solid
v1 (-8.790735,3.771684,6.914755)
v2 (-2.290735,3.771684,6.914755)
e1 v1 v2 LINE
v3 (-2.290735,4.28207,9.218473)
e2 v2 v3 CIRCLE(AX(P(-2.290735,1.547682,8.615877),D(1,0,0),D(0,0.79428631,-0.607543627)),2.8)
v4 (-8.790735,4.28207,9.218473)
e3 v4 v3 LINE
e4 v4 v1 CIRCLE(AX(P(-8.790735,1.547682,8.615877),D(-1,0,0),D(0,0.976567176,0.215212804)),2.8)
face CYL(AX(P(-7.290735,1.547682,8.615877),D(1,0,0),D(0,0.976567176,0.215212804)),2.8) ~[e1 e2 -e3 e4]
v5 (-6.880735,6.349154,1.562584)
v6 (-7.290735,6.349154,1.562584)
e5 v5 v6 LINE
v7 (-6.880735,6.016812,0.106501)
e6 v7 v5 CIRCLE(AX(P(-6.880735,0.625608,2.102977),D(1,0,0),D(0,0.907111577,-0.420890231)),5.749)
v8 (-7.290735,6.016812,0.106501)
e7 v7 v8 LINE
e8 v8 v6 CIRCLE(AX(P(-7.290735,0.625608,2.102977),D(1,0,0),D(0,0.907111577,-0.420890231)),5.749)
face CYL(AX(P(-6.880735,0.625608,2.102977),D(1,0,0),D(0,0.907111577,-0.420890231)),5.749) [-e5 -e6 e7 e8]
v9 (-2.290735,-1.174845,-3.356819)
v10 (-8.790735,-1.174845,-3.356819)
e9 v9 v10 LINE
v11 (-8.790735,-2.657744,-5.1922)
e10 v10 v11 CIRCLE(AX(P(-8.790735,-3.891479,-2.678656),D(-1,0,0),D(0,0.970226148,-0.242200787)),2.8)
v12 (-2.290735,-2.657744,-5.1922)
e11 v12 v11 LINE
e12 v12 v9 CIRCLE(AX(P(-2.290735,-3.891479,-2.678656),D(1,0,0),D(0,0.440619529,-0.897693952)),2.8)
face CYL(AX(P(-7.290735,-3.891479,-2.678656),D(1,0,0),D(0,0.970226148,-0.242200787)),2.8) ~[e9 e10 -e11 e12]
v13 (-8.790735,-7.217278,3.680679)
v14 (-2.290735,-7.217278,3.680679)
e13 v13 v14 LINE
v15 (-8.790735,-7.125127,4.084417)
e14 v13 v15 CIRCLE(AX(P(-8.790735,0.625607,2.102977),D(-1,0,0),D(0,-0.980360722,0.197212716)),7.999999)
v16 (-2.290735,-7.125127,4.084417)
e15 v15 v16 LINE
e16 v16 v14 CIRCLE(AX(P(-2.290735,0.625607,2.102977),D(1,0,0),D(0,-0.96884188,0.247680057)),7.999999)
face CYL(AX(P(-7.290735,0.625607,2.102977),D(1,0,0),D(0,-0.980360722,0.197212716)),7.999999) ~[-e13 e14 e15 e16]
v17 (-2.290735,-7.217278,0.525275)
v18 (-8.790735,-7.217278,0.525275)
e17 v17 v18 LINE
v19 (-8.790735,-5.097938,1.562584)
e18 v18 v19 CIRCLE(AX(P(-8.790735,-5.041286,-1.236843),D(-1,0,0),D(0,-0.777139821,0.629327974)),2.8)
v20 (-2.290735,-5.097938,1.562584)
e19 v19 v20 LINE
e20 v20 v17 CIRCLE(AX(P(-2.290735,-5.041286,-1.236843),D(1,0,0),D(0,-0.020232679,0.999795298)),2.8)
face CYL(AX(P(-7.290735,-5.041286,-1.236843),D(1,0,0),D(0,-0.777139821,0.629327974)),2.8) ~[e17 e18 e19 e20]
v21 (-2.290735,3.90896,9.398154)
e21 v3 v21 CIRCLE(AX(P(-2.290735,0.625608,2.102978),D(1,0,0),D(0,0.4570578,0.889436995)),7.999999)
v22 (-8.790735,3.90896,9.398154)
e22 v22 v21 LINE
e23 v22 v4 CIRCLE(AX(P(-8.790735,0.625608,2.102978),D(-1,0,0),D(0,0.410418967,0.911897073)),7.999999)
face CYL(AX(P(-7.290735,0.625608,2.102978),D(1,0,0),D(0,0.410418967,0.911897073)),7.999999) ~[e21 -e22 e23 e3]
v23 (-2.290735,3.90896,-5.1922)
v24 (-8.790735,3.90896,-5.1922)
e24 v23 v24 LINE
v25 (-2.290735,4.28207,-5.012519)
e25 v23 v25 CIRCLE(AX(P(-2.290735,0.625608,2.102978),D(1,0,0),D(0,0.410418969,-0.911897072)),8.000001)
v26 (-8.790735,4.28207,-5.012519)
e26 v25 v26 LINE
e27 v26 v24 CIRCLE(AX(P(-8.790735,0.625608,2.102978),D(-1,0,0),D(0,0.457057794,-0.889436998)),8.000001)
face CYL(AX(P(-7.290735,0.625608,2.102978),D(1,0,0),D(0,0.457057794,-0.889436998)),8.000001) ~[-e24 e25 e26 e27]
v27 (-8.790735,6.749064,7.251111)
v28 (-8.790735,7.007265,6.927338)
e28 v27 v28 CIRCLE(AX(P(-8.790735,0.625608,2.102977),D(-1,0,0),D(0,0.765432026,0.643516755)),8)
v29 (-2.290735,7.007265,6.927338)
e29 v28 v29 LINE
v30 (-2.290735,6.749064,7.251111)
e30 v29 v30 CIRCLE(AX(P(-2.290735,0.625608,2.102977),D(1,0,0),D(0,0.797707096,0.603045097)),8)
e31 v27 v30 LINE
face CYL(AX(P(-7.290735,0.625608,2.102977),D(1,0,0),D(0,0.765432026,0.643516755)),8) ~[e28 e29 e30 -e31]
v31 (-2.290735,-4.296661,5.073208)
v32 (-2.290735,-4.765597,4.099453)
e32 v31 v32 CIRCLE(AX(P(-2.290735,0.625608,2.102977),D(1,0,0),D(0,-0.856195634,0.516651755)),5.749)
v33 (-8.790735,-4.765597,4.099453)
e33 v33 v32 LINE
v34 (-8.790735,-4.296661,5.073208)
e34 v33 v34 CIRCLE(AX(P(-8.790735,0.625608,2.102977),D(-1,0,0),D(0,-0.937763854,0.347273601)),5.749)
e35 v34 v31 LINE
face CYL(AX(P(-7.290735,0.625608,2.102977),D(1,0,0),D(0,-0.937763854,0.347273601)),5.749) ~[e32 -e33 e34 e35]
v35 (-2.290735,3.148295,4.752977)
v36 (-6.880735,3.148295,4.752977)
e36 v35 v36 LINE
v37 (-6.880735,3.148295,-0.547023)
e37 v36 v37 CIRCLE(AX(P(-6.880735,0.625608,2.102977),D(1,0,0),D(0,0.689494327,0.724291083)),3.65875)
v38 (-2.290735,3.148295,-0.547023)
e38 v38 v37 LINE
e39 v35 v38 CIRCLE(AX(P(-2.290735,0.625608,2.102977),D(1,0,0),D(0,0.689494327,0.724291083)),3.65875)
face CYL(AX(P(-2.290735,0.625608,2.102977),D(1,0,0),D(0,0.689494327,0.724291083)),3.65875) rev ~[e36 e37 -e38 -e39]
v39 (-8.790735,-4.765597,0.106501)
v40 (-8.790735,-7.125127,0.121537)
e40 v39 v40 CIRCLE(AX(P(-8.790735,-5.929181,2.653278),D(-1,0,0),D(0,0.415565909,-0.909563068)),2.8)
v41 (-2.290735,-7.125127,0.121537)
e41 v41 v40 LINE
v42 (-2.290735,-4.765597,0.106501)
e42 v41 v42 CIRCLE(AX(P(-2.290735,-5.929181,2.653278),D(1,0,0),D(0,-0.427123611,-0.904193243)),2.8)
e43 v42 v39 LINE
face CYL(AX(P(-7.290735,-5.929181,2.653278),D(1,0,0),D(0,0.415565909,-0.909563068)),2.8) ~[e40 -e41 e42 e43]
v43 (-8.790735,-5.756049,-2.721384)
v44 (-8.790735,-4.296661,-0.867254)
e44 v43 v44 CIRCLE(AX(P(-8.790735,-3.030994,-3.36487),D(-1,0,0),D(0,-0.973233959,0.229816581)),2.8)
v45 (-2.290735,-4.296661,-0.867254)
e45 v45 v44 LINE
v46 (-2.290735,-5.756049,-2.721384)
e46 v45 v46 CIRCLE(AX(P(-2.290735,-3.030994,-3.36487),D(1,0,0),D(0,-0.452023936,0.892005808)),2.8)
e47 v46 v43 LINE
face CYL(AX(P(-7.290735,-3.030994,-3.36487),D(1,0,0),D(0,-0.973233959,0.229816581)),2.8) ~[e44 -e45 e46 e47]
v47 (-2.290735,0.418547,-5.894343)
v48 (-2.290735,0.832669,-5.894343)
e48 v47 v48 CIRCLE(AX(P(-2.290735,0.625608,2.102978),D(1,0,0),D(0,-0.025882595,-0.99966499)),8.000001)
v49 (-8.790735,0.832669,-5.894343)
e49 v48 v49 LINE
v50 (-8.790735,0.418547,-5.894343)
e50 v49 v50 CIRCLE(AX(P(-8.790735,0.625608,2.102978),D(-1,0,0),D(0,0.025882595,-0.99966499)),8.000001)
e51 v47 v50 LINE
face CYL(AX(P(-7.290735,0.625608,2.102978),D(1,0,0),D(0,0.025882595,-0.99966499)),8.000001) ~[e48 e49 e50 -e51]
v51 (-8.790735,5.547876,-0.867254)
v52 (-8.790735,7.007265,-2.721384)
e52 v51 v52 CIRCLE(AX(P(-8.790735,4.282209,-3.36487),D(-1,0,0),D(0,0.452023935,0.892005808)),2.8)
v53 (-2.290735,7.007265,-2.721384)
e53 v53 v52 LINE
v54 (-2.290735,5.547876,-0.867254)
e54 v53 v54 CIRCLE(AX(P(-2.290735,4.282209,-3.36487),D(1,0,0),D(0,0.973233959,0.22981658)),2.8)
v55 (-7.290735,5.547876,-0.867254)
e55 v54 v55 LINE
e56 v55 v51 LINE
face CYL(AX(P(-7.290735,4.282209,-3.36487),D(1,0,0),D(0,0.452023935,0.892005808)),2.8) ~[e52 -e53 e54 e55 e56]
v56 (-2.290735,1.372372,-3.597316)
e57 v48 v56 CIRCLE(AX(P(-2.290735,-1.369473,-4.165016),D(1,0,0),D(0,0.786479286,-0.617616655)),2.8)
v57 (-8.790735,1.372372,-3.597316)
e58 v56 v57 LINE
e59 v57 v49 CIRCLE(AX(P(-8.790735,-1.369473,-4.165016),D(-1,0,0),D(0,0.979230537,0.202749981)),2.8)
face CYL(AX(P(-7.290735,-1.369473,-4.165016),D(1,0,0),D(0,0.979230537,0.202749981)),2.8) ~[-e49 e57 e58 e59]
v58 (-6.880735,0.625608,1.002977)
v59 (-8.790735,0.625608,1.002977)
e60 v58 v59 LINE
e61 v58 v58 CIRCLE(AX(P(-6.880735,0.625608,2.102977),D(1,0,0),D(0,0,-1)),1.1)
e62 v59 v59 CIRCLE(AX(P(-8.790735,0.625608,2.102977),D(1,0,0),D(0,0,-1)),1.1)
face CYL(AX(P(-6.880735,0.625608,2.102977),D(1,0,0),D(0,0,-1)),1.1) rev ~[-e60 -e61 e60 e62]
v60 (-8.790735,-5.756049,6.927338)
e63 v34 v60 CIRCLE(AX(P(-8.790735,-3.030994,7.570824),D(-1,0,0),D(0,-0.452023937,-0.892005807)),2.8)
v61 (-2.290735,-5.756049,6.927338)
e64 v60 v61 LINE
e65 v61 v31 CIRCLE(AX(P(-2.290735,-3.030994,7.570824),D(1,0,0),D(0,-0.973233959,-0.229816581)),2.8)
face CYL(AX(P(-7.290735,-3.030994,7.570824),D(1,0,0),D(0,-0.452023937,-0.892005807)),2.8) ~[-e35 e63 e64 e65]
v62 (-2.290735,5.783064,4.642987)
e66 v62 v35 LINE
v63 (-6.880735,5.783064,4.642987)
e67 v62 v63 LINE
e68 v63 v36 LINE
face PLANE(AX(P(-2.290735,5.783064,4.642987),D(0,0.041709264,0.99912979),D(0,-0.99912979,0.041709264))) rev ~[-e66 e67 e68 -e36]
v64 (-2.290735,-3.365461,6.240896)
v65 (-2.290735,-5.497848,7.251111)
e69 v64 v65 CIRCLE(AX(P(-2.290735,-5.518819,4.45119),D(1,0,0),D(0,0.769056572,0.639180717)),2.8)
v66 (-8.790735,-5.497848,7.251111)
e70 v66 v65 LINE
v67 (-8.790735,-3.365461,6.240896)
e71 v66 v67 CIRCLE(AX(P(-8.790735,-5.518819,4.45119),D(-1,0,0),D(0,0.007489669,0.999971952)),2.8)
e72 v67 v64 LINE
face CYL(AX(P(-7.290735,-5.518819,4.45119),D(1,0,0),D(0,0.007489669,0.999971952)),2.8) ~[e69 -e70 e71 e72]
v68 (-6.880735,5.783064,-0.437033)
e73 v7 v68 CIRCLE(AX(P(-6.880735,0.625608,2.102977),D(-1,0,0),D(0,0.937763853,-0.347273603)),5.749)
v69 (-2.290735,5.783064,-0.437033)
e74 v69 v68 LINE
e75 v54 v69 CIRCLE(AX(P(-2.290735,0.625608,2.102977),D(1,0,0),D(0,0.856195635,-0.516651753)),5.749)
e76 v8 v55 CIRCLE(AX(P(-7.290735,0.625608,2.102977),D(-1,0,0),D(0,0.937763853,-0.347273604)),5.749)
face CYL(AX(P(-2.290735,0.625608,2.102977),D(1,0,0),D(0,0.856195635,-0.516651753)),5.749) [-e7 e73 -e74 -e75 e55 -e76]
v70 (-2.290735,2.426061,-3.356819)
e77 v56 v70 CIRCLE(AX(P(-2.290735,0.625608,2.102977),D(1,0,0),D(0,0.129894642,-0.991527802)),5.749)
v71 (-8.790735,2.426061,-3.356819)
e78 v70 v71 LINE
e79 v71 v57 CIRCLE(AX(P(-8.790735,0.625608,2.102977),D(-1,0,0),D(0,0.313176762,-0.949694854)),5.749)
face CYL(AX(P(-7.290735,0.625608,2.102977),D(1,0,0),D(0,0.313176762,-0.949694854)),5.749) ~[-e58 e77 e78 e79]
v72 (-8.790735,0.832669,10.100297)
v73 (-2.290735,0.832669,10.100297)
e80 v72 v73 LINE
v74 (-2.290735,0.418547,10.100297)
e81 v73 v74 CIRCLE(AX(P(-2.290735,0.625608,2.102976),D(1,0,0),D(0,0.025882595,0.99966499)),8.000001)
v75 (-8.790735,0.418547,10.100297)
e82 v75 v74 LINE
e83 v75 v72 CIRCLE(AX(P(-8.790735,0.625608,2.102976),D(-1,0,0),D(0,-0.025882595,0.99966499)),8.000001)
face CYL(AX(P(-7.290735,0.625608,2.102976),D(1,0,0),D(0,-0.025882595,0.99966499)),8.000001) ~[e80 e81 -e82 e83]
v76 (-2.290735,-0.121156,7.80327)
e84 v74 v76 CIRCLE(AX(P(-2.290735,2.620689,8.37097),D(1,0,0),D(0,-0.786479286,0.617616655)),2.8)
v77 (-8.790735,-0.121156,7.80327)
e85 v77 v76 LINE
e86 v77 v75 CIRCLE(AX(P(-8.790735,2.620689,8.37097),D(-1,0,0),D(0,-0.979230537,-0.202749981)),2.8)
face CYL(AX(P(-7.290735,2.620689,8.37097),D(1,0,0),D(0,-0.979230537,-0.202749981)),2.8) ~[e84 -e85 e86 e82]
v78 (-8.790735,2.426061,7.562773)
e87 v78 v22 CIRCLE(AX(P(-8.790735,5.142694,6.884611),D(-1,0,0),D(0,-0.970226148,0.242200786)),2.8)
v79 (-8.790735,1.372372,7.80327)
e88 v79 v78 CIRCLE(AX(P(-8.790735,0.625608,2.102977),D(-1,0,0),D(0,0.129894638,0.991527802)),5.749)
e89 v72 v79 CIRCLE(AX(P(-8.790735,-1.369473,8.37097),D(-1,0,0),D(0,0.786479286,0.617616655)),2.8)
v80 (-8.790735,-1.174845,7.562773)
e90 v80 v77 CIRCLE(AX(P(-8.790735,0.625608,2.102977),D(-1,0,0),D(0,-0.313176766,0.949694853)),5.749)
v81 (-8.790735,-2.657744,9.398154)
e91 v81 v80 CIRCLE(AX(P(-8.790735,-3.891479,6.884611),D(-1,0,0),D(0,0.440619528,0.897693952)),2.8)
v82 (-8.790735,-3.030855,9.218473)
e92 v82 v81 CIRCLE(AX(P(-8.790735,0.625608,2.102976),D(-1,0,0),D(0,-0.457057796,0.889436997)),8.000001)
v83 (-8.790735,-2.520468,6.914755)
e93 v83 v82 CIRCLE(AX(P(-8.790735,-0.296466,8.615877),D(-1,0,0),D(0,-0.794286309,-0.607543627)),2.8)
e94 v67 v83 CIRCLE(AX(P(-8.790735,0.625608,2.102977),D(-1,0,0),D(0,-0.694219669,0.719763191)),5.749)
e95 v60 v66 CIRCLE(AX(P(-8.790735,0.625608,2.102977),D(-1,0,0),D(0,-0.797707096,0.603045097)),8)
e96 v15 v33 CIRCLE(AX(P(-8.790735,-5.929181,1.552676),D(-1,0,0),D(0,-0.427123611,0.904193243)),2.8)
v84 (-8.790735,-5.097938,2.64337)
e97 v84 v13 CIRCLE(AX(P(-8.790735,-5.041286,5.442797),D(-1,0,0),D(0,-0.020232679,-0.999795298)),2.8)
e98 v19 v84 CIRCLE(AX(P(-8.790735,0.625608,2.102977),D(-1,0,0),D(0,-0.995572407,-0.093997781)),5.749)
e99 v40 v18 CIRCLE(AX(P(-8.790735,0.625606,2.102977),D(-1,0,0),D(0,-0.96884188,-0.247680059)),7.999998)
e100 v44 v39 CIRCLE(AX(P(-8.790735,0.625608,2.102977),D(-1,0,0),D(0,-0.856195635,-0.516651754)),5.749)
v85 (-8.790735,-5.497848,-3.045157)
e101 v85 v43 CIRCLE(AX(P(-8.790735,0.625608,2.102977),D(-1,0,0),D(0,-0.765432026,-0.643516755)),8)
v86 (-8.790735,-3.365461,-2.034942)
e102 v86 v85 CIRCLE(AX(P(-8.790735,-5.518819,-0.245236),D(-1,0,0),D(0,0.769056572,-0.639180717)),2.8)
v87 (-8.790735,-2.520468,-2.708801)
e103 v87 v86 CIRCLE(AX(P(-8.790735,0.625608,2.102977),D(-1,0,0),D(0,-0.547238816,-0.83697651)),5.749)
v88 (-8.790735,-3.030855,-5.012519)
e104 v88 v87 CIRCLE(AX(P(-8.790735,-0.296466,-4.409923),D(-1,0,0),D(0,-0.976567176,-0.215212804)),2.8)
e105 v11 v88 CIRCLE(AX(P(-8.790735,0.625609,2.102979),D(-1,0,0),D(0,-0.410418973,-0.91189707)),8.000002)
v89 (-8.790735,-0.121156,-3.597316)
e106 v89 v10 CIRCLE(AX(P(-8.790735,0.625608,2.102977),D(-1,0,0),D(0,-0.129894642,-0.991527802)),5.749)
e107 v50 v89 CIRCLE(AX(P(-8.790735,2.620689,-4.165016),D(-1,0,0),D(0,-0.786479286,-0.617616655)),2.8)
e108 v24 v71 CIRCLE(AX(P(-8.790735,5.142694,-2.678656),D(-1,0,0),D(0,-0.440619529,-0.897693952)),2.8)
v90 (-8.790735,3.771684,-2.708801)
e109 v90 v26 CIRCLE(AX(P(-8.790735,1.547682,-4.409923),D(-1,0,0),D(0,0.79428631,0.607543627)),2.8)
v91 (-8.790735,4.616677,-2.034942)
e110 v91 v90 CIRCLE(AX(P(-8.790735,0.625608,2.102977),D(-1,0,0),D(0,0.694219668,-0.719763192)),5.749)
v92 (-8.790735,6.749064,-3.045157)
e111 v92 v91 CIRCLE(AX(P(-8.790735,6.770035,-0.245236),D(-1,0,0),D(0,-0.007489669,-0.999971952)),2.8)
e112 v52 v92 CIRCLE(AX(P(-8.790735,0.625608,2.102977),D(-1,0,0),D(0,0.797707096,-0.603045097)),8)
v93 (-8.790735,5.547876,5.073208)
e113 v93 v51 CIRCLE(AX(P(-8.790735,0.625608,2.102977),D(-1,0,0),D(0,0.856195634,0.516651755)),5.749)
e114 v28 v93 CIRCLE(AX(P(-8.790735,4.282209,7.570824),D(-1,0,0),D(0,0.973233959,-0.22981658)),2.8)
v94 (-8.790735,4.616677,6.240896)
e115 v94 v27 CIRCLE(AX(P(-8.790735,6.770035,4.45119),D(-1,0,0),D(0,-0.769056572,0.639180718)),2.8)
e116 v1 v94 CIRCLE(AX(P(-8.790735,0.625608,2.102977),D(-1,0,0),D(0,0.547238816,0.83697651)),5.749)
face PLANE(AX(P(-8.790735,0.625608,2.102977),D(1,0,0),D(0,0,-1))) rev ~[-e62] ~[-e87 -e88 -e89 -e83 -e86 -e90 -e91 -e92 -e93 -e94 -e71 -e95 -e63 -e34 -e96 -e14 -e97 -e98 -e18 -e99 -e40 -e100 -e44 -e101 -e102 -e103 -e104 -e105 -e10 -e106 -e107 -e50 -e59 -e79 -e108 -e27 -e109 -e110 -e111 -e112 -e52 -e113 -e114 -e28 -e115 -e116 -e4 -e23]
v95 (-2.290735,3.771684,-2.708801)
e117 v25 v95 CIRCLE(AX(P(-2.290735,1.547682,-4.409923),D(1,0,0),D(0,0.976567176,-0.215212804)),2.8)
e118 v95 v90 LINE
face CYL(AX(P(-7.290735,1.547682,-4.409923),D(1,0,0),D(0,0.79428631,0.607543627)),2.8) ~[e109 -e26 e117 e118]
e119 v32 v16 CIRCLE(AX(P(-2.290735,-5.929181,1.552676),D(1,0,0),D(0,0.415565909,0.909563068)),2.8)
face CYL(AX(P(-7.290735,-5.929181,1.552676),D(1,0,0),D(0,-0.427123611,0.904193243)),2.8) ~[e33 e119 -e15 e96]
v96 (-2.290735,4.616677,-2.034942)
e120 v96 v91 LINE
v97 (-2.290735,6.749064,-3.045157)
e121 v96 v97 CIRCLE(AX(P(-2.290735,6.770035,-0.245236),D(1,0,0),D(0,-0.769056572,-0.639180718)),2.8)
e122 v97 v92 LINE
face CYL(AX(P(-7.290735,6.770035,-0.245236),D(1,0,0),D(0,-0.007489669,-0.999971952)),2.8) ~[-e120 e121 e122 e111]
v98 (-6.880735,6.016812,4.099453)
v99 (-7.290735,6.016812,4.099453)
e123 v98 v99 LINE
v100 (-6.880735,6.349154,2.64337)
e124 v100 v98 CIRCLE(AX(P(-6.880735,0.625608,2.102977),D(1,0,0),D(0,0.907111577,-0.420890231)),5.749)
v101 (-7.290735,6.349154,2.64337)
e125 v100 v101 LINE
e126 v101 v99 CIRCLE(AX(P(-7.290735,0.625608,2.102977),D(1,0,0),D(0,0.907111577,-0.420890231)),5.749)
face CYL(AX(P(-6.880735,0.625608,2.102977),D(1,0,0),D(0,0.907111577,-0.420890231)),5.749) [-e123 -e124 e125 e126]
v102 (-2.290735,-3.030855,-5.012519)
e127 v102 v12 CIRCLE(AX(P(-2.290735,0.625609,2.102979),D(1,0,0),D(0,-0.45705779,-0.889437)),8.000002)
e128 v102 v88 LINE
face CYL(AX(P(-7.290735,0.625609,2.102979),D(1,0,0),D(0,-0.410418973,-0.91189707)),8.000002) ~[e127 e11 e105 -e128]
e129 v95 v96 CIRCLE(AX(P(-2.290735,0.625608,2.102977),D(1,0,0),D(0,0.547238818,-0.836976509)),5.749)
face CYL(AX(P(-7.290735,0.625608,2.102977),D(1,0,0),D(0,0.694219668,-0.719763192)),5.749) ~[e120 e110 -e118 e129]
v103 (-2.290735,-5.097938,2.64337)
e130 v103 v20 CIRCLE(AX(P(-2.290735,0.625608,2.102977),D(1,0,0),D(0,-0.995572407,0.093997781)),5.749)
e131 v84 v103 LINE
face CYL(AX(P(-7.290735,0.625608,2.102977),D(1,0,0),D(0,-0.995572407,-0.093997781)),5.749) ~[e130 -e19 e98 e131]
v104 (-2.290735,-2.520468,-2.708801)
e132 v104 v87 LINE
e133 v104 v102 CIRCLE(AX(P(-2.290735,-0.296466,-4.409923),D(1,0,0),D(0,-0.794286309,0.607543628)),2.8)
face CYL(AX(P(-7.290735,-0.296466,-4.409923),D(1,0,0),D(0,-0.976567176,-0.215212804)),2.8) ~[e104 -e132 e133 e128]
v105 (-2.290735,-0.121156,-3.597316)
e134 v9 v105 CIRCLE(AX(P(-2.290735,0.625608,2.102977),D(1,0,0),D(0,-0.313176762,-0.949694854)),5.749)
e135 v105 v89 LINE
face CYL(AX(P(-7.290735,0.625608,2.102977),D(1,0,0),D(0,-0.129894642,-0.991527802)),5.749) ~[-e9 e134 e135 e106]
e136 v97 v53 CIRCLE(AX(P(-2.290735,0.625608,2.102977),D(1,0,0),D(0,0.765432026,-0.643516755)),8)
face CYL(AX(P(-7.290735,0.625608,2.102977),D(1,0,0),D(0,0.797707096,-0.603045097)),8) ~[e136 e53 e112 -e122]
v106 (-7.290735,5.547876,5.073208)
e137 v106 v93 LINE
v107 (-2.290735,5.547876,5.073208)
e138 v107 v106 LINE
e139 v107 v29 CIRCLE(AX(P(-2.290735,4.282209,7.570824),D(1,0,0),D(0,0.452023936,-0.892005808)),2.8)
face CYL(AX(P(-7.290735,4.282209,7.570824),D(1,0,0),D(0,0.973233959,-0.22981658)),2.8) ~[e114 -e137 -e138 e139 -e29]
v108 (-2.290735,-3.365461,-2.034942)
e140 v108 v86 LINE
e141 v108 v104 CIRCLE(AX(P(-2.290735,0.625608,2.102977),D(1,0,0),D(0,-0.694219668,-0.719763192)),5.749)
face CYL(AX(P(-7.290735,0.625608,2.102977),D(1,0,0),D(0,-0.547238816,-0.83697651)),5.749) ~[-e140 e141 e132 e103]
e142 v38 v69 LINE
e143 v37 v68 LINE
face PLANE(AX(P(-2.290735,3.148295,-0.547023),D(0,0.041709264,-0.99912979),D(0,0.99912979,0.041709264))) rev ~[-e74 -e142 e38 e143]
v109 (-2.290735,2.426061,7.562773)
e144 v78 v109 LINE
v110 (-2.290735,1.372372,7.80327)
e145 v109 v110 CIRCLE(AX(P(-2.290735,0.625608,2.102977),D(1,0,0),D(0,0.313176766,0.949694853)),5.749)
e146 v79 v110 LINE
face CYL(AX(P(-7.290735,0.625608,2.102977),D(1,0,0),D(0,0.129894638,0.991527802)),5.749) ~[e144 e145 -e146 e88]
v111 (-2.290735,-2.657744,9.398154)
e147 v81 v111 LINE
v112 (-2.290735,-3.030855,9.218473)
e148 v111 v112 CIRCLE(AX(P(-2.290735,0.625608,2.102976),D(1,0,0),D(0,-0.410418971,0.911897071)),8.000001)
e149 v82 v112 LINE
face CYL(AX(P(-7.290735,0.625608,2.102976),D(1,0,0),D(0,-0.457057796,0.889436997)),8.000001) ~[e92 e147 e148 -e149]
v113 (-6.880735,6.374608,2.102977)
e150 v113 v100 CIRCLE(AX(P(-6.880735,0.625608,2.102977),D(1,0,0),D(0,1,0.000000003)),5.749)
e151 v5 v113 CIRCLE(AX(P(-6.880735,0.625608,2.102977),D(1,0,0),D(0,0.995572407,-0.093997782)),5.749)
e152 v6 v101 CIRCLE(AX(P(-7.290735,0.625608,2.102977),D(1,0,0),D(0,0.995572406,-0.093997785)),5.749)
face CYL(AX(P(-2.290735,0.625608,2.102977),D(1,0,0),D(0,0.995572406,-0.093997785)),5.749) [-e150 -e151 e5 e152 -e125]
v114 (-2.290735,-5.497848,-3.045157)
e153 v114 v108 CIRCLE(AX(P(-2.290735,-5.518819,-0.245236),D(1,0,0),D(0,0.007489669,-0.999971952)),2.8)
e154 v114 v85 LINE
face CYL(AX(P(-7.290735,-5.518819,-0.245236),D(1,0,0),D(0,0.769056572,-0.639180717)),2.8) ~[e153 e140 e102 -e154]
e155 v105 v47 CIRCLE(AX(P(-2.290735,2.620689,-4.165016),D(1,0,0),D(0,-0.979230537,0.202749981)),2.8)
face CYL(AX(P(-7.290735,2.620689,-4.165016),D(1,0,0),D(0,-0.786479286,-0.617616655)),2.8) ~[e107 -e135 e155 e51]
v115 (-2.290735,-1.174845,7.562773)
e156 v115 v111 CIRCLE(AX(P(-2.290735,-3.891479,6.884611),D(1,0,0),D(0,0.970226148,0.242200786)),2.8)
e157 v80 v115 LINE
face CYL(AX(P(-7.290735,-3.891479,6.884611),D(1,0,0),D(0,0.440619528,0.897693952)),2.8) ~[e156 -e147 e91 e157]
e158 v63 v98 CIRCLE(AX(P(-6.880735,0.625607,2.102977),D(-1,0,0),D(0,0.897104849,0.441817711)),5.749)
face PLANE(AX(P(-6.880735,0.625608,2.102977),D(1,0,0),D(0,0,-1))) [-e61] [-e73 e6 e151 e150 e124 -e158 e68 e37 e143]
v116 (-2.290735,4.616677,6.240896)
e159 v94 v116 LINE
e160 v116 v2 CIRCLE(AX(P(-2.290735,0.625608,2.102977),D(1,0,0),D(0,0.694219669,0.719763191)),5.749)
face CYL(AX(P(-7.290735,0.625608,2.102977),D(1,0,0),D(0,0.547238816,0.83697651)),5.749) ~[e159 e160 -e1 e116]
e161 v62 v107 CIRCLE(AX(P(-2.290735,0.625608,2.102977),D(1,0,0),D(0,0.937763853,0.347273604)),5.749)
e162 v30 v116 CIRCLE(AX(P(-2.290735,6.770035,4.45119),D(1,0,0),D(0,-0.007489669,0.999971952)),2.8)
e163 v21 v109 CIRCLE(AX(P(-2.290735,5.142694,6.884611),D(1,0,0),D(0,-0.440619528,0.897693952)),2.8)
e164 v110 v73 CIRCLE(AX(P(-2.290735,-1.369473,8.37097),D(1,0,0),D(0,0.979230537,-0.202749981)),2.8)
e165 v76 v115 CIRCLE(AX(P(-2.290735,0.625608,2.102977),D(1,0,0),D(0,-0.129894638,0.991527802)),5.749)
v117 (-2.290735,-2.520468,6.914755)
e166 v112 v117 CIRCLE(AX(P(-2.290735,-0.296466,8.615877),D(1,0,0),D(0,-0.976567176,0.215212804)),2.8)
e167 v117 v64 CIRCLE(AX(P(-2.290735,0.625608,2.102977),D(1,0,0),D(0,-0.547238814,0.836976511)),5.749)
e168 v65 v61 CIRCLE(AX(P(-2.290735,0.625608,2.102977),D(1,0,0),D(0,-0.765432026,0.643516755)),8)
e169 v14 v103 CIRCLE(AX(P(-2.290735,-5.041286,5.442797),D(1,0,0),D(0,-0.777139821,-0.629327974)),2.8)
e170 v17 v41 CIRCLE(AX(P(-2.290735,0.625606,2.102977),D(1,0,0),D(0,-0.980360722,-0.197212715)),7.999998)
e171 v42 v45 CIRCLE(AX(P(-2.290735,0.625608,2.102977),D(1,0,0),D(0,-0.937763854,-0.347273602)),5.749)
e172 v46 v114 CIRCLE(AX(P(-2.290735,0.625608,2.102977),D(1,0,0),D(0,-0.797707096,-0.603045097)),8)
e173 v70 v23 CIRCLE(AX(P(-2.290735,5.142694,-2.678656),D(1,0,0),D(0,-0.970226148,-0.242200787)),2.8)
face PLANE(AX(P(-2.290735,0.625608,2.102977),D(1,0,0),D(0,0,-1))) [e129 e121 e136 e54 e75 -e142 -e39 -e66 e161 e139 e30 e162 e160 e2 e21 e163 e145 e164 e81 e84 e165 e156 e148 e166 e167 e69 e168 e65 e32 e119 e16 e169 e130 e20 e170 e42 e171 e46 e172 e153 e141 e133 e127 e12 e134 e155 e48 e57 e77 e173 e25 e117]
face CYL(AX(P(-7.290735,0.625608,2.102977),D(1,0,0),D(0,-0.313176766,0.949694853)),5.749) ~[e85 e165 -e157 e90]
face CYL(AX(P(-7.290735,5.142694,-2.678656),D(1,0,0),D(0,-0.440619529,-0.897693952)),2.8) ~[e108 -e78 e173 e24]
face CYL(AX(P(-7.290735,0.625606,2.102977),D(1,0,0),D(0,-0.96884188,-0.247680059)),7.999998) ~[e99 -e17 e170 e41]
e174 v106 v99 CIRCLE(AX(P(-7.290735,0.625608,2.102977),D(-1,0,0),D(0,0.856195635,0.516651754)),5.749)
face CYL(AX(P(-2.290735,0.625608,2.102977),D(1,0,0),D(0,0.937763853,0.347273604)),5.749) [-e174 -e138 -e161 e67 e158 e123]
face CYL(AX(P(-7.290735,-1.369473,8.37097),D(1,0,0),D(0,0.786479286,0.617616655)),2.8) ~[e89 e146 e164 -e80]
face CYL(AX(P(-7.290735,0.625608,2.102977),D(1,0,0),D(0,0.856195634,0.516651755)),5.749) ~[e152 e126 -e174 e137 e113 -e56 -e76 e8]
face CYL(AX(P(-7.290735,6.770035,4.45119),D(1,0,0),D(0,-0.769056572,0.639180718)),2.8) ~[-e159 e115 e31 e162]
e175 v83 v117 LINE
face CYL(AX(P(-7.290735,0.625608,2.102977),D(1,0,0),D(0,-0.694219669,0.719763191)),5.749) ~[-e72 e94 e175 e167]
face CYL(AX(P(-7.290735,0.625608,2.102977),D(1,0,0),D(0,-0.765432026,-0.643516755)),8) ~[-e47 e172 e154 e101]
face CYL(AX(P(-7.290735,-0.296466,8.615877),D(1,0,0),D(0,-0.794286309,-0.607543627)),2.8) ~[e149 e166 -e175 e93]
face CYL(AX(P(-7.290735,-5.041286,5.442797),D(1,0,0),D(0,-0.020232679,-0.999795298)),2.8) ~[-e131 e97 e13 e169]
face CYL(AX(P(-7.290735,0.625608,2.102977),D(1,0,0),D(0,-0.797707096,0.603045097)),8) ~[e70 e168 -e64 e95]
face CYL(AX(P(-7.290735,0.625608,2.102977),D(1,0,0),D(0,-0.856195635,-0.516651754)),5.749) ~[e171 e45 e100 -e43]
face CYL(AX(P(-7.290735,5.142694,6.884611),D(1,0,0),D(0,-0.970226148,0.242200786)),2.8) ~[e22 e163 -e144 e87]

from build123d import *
from build123d.topology import SkipClean

# Parameters (mm, degrees)
SKETCH1_R           = 2
BOSS_EXTRUDE1_DEPTH = 5
SKETCH2_R           = 2
CUT_EXTRUDE1_DEPTH  = 4.59
CUT_EXTRUDE2_DEPTH  = 4.59
SKETCH4_R           = 2
BOSS_EXTRUDE2_DEPTH = 1.5
SKETCH5_R           = 2
SKETCH5_R_2         = 1.1
BOSS_EXTRUDE3_DEPTH = 1.91


with BuildPart() as part:
    # Sketch1 → Boss-Extrude1 (new body)
    with BuildSketch(Plane(origin=(-2.290735361, 0, 0), x_dir=(0, 0, -1), z_dir=(1, 0, 0))):
        with BuildLine():
            ThreePointArc((-9.21847302, -3.030854589), (-8.010225793, -3.030179432), (-6.914755008, -2.520468161))
            ThreePointArc((-6.914755008, -2.520468161), (-6.597726247, -2.958835077), (-6.240895641, -3.365461082))
            ThreePointArc((-6.240895641, -3.365461082), (-6.981592568, -4.320044698), (-7.251111098, -5.497848409))
            ThreePointArc((-7.251111098, -5.497848409), (-7.090895469, -5.629044066), (-6.927337829, -5.756048975))
            ThreePointArc((-6.927337829, -5.756048975), (-5.839037632, -5.231201855), (-5.073207991, -4.296660909))
            ThreePointArc((-5.073207991, -4.296660909), (-4.59737467, -4.554062228), (-4.099452992, -4.765596601))
            ThreePointArc((-4.099452992, -4.765596601), (-4.352619555, -5.947023074), (-4.084417482, -7.125127257))
            ThreePointArc((-4.084417482, -7.125127257), (-3.883144525, -7.173815504), (-3.680678819, -7.217277972))
            ThreePointArc((-3.680678819, -7.217277972), (-2.927876853, -6.272211298), (-2.643370309, -5.097937972))
            ThreePointArc((-2.643370309, -5.097937972), (-2.102977054, -5.123392206), (-1.562583798, -5.097937972))
            ThreePointArc((-1.562583798, -5.097937972), (-1.278077254, -6.272211298), (-0.525275288, -7.217277972))
            ThreePointArc((-0.525275288, -7.217277972), (-0.322809582, -7.173815504), (-0.121536626, -7.125127257))
            ThreePointArc((-0.121536626, -7.125127257), (0.146665447, -5.947023074), (-0.106501116, -4.765596601))
            ThreePointArc((-0.106501116, -4.765596601), (0.391420562, -4.554062228), (0.867253884, -4.296660909))
            ThreePointArc((0.867253884, -4.296660909), (1.633083524, -5.231201855), (2.721383721, -5.756048975))
            ThreePointArc((2.721383721, -5.756048975), (2.884941361, -5.629044066), (3.04515699, -5.497848409))
            ThreePointArc((3.04515699, -5.497848409), (2.77563846, -4.320044698), (2.034941533, -3.365461082))
            ThreePointArc((2.034941533, -3.365461082), (2.391772139, -2.958835077), (2.708800901, -2.520468161))
            ThreePointArc((2.708800901, -2.520468161), (3.804271685, -3.030179432), (5.012518913, -3.030854589))
            ThreePointArc((5.012518913, -3.030854589), (5.104773889, -2.845462119), (5.192199521, -2.65774396))
            ThreePointArc((5.192199521, -2.65774396), (4.438341838, -1.713519192), (3.356818658, -1.174845424))
            ThreePointArc((3.356818658, -1.174845424), (3.501883513, -0.653665056), (3.597316282, -0.121156487))
            ThreePointArc((3.597316282, -0.121156487), (4.805456786, -0.105083514), (5.894342862, 0.418547016))
            ThreePointArc((5.894342862, 0.418547016), (5.897022946, 0.625607794), (5.894342862, 0.832668571))
            ThreePointArc((5.894342862, 0.832668571), (4.805456786, 1.356299101), (3.597316282, 1.372372074))
            ThreePointArc((3.597316282, 1.372372074), (3.501883513, 1.904880643), (3.356818658, 2.426061011))
            ThreePointArc((3.356818658, 2.426061011), (4.438341838, 2.964734779), (5.192199521, 3.908959547))
            ThreePointArc((5.192199521, 3.908959547), (5.104773889, 4.096677707), (5.012518913, 4.282070176))
            ThreePointArc((5.012518913, 4.282070176), (3.804271685, 4.281395019), (2.708800901, 3.771683749))
            ThreePointArc((2.708800901, 3.771683749), (2.391772139, 4.210050664), (2.034941533, 4.616676669))
            ThreePointArc((2.034941533, 4.616676669), (2.77563846, 5.571260286), (3.04515699, 6.749063996))
            ThreePointArc((3.04515699, 6.749063996), (2.884941361, 6.880259653), (2.721383721, 7.007264562))
            ThreePointArc((2.721383721, 7.007264562), (1.633083524, 6.482417443), (0.867253884, 5.547876496))
            ThreePointArc((0.867253884, 5.547876496), (0.391420562, 5.805277815), (-0.106501116, 6.016812189))
            ThreePointArc((-0.106501116, 6.016812189), (0.146665447, 7.198238661), (-0.121536626, 8.376342845))
            ThreePointArc((-0.121536626, 8.376342845), (-0.322809582, 8.425031091), (-0.525275288, 8.46849356))
            ThreePointArc((-0.525275288, 8.46849356), (-1.278077254, 7.523426886), (-1.562583798, 6.349153559))
            ThreePointArc((-1.562583798, 6.349153559), (-2.102977054, 6.374607794), (-2.643370309, 6.349153559))
            ThreePointArc((-2.643370309, 6.349153559), (-2.927876853, 7.523426886), (-3.680678819, 8.46849356))
            ThreePointArc((-3.680678819, 8.46849356), (-3.883144525, 8.425031091), (-4.084417482, 8.376342845))
            ThreePointArc((-4.084417482, 8.376342845), (-4.352619555, 7.198238661), (-4.099452992, 6.016812189))
            ThreePointArc((-4.099452992, 6.016812189), (-4.59737467, 5.805277815), (-5.073207991, 5.547876496))
            ThreePointArc((-5.073207991, 5.547876496), (-5.839037632, 6.482417443), (-6.927337829, 7.007264562))
            ThreePointArc((-6.927337829, 7.007264562), (-7.090895469, 6.880259653), (-7.251111098, 6.749063996))
            ThreePointArc((-7.251111098, 6.749063996), (-6.981592568, 5.571260286), (-6.240895641, 4.616676669))
            ThreePointArc((-6.240895641, 4.616676669), (-6.597726247, 4.210050664), (-6.914755008, 3.771683749))
            ThreePointArc((-6.914755008, 3.771683749), (-8.010225793, 4.281395019), (-9.21847302, 4.282070176))
            ThreePointArc((-9.21847302, 4.282070176), (-9.310727997, 4.096677707), (-9.398153629, 3.908959547))
            ThreePointArc((-9.398153629, 3.908959547), (-8.644295946, 2.964734779), (-7.562772765, 2.426061011))
            ThreePointArc((-7.562772765, 2.426061011), (-7.707837621, 1.904880643), (-7.803270389, 1.372372074))
            ThreePointArc((-7.803270389, 1.372372074), (-9.011410893, 1.356299101), (-10.10029697, 0.832668571))
            ThreePointArc((-10.10029697, 0.832668571), (-10.102977054, 0.625607794), (-10.10029697, 0.418547016))
            ThreePointArc((-10.10029697, 0.418547016), (-9.011410893, -0.105083514), (-7.803270389, -0.121156487))
            ThreePointArc((-7.803270389, -0.121156487), (-7.707837621, -0.653665056), (-7.562772765, -1.174845424))
            ThreePointArc((-7.562772765, -1.174845424), (-8.644295946, -1.713519192), (-9.398153629, -2.65774396))
            ThreePointArc((-9.398153629, -2.65774396), (-9.310727997, -2.845462119), (-9.21847302, -3.030854589))
        make_face()
        with Locations(Location((-2.102977054, 0.625607794, 0), (0, 0, 180))):
            Circle(SKETCH1_R, mode=Mode.SUBTRACT)
    extrude(amount=-BOSS_EXTRUDE1_DEPTH)

    # Sketch2 → Cut-Extrude1 (cut)
    with BuildSketch(Plane(origin=(-2.290735361, 0, 0), x_dir=(0, 0, -1), z_dir=(1, 0, 0))):
        with BuildLine():
            ThreePointArc((-1.562583798, 6.349153559), (-1.832480848, 6.368240709), (-2.102977054, 6.374607794))
            ThreePointArc((-2.102977054, 6.374607794), (-2.373473259, 6.368240709), (-2.643370309, 6.349153559))
            ThreePointArc((-2.643370309, 6.349153559), (-2.927876853, 7.523426886), (-3.680678819, 8.46849356))
            ThreePointArc((-3.680678819, 8.46849356), (-3.883144525, 8.425031091), (-4.084417482, 8.376342845))
            ThreePointArc((-4.084417482, 8.376342845), (-4.352619555, 7.198238661), (-4.099452992, 6.016812189))
            ThreePointArc((-4.099452992, 6.016812189), (-4.374229098, 5.906934819), (-4.642987089, 5.783063564))
            Line((-4.642987089, 5.783063564), (-4.752977054, 3.148295163))
            ThreePointArc((-4.752977054, 3.148295163), (-2.102977054, -3.033142206), (0.547022946, 3.148295163))
            Line((0.547022946, 3.148295163), (0.437032981, 5.783063564))
            ThreePointArc((0.437032981, 5.783063564), (0.168274991, 5.906934819), (-0.106501116, 6.016812189))
            ThreePointArc((-0.106501116, 6.016812189), (0.146665447, 7.198238661), (-0.121536626, 8.376342845))
            ThreePointArc((-0.121536626, 8.376342845), (-0.322809582, 8.425031091), (-0.525275288, 8.46849356))
            ThreePointArc((-0.525275288, 8.46849356), (-1.278077254, 7.523426886), (-1.562583798, 6.349153559))
        make_face()
        with Locations((-2.102977054, 0.625607794)):
            Circle(SKETCH2_R, mode=Mode.SUBTRACT)
    extrude(amount=-CUT_EXTRUDE1_DEPTH, mode=Mode.SUBTRACT)

    # Sketch3 → Cut-Extrude2 (cut)
    with BuildSketch(Plane(origin=(-6.880735361, 0, 0), x_dir=(0, 0, -1), z_dir=(1, 0, 0))):
        with BuildLine():
            Line((-4.428262518, 5.883368582), (-5.037365747, 8.852267241))
            Line((-5.037365747, 8.852267241), (0.413398915, 8.665739173))
            Line((0.413398915, 8.665739173), (0.316720883, 5.840592251))
            ThreePointArc((0.316720883, 5.840592251), (-2.051151554, 6.374374193), (-4.428262518, 5.883368582))
        make_face()
    extrude(amount=-CUT_EXTRUDE2_DEPTH, mode=Mode.SUBTRACT)

    # Sketch4 → Boss-Extrude2 (add)
    with SkipClean():  # the faces are left unmerged after this step: merging them gives an invalid solid
        with BuildSketch(Plane.ZY.offset(7.290735361)):
            with BuildLine():
                ThreePointArc((6.927337829, 7.007264562), (5.839037632, 6.482417443), (5.073207991, 5.547876496))
                ThreePointArc((5.073207991, 5.547876496), (2.102977054, 6.374607794), (-0.867253884, 5.547876496))
                ThreePointArc((-0.867253884, 5.547876496), (-1.633083524, 6.482417443), (-2.721383721, 7.007264562))
                ThreePointArc((-2.721383721, 7.007264562), (-2.884941361, 6.880259653), (-3.04515699, 6.749063996))
                ThreePointArc((-3.04515699, 6.749063996), (-2.77563846, 5.571260286), (-2.034941533, 4.616676669))
                ThreePointArc((-2.034941533, 4.616676669), (-2.391772139, 4.210050664), (-2.708800901, 3.771683749))
                ThreePointArc((-2.708800901, 3.771683749), (-3.804271685, 4.281395019), (-5.012518913, 4.282070176))
                ThreePointArc((-5.012518913, 4.282070176), (-5.104773889, 4.096677707), (-5.192199521, 3.908959547))
                ThreePointArc((-5.192199521, 3.908959547), (-4.438341838, 2.964734779), (-3.356818658, 2.426061011))
                ThreePointArc((-3.356818658, 2.426061011), (-3.501883513, 1.904880643), (-3.597316282, 1.372372074))
                ThreePointArc((-3.597316282, 1.372372074), (-4.805456786, 1.356299101), (-5.894342862, 0.832668571))
                ThreePointArc((-5.894342862, 0.832668571), (-5.897022946, 0.625607794), (-5.894342862, 0.418547016))
                ThreePointArc((-5.894342862, 0.418547016), (-4.805456786, -0.105083514), (-3.597316282, -0.121156487))
                ThreePointArc((-3.597316282, -0.121156487), (-3.501883513, -0.653665056), (-3.356818658, -1.174845424))
                ThreePointArc((-3.356818658, -1.174845424), (-4.438341838, -1.713519192), (-5.192199521, -2.65774396))
                ThreePointArc((-5.192199521, -2.65774396), (-5.104773889, -2.845462119), (-5.012518913, -3.030854589))
                ThreePointArc((-5.012518913, -3.030854589), (-3.804271685, -3.030179432), (-2.708800901, -2.520468161))
                ThreePointArc((-2.708800901, -2.520468161), (-2.391772139, -2.958835077), (-2.034941533, -3.365461082))
                ThreePointArc((-2.034941533, -3.365461082), (-2.77563846, -4.320044698), (-3.04515699, -5.497848409))
                ThreePointArc((-3.04515699, -5.497848409), (-2.884941361, -5.629044066), (-2.721383721, -5.756048975))
                ThreePointArc((-2.721383721, -5.756048975), (-1.633083524, -5.231201855), (-0.867253884, -4.296660909))
                ThreePointArc((-0.867253884, -4.296660909), (-0.391420562, -4.554062228), (0.106501116, -4.765596601))
                ThreePointArc((0.106501116, -4.765596601), (-0.146665447, -5.947023074), (0.121536626, -7.125127257))
                ThreePointArc((0.121536626, -7.125127257), (0.322809582, -7.173815504), (0.525275288, -7.217277972))
                ThreePointArc((0.525275288, -7.217277972), (1.278077254, -6.272211298), (1.562583798, -5.097937972))
                ThreePointArc((1.562583798, -5.097937972), (2.102977054, -5.123392206), (2.643370309, -5.097937972))
                ThreePointArc((2.643370309, -5.097937972), (2.927876853, -6.272211298), (3.680678819, -7.217277972))
                ThreePointArc((3.680678819, -7.217277972), (3.883144525, -7.173815504), (4.084417482, -7.125127257))
                ThreePointArc((4.084417482, -7.125127257), (4.352619555, -5.947023074), (4.099452992, -4.765596601))
                ThreePointArc((4.099452992, -4.765596601), (4.59737467, -4.554062228), (5.073207991, -4.296660909))
                ThreePointArc((5.073207991, -4.296660909), (5.839037632, -5.231201855), (6.927337829, -5.756048975))
                ThreePointArc((6.927337829, -5.756048975), (7.090895469, -5.629044066), (7.251111098, -5.497848409))
                ThreePointArc((7.251111098, -5.497848409), (6.981592568, -4.320044698), (6.240895641, -3.365461082))
                ThreePointArc((6.240895641, -3.365461082), (6.597726247, -2.958835077), (6.914755008, -2.520468161))
                ThreePointArc((6.914755008, -2.520468161), (8.010225793, -3.030179432), (9.21847302, -3.030854589))
                ThreePointArc((9.21847302, -3.030854589), (9.310727997, -2.845462119), (9.398153629, -2.65774396))
                ThreePointArc((9.398153629, -2.65774396), (8.644295946, -1.713519192), (7.562772765, -1.174845424))
                ThreePointArc((7.562772765, -1.174845424), (7.707837621, -0.653665056), (7.803270389, -0.121156487))
                ThreePointArc((7.803270389, -0.121156487), (9.011410893, -0.105083514), (10.10029697, 0.418547016))
                ThreePointArc((10.10029697, 0.418547016), (10.102977054, 0.625607794), (10.10029697, 0.832668571))
                ThreePointArc((10.10029697, 0.832668571), (9.011410893, 1.356299101), (7.803270389, 1.372372074))
                ThreePointArc((7.803270389, 1.372372074), (7.707837621, 1.904880643), (7.562772765, 2.426061011))
                ThreePointArc((7.562772765, 2.426061011), (8.644295946, 2.964734779), (9.398153629, 3.908959547))
                ThreePointArc((9.398153629, 3.908959547), (9.310727997, 4.096677707), (9.21847302, 4.282070176))
                ThreePointArc((9.21847302, 4.282070176), (8.010225793, 4.281395019), (6.914755008, 3.771683749))
                ThreePointArc((6.914755008, 3.771683749), (6.597726247, 4.210050664), (6.240895641, 4.616676669))
                ThreePointArc((6.240895641, 4.616676669), (6.981592568, 5.571260286), (7.251111098, 6.749063996))
                ThreePointArc((7.251111098, 6.749063996), (7.090895469, 6.880259653), (6.927337829, 7.007264562))
            make_face()
            with Locations(Location((2.102977054, 0.625607794, 0), (0, 0, 180))):
                Circle(SKETCH4_R, mode=Mode.SUBTRACT)
        extrude(amount=BOSS_EXTRUDE2_DEPTH)

    # Sketch5 → Boss-Extrude3 (add, through all)
    with BuildSketch(Plane(origin=(-6.880735361, 0, 0), x_dir=(0, 0, -1), z_dir=(1, 0, 0))):
        with Locations((-2.102977054, 0.625607794)):
            Circle(SKETCH5_R)
        with Locations((-2.102977054, 0.625607794)):
            Circle(SKETCH5_R_2, mode=Mode.SUBTRACT)
    extrude(amount=-BOSS_EXTRUDE3_DEPTH)


solid = part.part
